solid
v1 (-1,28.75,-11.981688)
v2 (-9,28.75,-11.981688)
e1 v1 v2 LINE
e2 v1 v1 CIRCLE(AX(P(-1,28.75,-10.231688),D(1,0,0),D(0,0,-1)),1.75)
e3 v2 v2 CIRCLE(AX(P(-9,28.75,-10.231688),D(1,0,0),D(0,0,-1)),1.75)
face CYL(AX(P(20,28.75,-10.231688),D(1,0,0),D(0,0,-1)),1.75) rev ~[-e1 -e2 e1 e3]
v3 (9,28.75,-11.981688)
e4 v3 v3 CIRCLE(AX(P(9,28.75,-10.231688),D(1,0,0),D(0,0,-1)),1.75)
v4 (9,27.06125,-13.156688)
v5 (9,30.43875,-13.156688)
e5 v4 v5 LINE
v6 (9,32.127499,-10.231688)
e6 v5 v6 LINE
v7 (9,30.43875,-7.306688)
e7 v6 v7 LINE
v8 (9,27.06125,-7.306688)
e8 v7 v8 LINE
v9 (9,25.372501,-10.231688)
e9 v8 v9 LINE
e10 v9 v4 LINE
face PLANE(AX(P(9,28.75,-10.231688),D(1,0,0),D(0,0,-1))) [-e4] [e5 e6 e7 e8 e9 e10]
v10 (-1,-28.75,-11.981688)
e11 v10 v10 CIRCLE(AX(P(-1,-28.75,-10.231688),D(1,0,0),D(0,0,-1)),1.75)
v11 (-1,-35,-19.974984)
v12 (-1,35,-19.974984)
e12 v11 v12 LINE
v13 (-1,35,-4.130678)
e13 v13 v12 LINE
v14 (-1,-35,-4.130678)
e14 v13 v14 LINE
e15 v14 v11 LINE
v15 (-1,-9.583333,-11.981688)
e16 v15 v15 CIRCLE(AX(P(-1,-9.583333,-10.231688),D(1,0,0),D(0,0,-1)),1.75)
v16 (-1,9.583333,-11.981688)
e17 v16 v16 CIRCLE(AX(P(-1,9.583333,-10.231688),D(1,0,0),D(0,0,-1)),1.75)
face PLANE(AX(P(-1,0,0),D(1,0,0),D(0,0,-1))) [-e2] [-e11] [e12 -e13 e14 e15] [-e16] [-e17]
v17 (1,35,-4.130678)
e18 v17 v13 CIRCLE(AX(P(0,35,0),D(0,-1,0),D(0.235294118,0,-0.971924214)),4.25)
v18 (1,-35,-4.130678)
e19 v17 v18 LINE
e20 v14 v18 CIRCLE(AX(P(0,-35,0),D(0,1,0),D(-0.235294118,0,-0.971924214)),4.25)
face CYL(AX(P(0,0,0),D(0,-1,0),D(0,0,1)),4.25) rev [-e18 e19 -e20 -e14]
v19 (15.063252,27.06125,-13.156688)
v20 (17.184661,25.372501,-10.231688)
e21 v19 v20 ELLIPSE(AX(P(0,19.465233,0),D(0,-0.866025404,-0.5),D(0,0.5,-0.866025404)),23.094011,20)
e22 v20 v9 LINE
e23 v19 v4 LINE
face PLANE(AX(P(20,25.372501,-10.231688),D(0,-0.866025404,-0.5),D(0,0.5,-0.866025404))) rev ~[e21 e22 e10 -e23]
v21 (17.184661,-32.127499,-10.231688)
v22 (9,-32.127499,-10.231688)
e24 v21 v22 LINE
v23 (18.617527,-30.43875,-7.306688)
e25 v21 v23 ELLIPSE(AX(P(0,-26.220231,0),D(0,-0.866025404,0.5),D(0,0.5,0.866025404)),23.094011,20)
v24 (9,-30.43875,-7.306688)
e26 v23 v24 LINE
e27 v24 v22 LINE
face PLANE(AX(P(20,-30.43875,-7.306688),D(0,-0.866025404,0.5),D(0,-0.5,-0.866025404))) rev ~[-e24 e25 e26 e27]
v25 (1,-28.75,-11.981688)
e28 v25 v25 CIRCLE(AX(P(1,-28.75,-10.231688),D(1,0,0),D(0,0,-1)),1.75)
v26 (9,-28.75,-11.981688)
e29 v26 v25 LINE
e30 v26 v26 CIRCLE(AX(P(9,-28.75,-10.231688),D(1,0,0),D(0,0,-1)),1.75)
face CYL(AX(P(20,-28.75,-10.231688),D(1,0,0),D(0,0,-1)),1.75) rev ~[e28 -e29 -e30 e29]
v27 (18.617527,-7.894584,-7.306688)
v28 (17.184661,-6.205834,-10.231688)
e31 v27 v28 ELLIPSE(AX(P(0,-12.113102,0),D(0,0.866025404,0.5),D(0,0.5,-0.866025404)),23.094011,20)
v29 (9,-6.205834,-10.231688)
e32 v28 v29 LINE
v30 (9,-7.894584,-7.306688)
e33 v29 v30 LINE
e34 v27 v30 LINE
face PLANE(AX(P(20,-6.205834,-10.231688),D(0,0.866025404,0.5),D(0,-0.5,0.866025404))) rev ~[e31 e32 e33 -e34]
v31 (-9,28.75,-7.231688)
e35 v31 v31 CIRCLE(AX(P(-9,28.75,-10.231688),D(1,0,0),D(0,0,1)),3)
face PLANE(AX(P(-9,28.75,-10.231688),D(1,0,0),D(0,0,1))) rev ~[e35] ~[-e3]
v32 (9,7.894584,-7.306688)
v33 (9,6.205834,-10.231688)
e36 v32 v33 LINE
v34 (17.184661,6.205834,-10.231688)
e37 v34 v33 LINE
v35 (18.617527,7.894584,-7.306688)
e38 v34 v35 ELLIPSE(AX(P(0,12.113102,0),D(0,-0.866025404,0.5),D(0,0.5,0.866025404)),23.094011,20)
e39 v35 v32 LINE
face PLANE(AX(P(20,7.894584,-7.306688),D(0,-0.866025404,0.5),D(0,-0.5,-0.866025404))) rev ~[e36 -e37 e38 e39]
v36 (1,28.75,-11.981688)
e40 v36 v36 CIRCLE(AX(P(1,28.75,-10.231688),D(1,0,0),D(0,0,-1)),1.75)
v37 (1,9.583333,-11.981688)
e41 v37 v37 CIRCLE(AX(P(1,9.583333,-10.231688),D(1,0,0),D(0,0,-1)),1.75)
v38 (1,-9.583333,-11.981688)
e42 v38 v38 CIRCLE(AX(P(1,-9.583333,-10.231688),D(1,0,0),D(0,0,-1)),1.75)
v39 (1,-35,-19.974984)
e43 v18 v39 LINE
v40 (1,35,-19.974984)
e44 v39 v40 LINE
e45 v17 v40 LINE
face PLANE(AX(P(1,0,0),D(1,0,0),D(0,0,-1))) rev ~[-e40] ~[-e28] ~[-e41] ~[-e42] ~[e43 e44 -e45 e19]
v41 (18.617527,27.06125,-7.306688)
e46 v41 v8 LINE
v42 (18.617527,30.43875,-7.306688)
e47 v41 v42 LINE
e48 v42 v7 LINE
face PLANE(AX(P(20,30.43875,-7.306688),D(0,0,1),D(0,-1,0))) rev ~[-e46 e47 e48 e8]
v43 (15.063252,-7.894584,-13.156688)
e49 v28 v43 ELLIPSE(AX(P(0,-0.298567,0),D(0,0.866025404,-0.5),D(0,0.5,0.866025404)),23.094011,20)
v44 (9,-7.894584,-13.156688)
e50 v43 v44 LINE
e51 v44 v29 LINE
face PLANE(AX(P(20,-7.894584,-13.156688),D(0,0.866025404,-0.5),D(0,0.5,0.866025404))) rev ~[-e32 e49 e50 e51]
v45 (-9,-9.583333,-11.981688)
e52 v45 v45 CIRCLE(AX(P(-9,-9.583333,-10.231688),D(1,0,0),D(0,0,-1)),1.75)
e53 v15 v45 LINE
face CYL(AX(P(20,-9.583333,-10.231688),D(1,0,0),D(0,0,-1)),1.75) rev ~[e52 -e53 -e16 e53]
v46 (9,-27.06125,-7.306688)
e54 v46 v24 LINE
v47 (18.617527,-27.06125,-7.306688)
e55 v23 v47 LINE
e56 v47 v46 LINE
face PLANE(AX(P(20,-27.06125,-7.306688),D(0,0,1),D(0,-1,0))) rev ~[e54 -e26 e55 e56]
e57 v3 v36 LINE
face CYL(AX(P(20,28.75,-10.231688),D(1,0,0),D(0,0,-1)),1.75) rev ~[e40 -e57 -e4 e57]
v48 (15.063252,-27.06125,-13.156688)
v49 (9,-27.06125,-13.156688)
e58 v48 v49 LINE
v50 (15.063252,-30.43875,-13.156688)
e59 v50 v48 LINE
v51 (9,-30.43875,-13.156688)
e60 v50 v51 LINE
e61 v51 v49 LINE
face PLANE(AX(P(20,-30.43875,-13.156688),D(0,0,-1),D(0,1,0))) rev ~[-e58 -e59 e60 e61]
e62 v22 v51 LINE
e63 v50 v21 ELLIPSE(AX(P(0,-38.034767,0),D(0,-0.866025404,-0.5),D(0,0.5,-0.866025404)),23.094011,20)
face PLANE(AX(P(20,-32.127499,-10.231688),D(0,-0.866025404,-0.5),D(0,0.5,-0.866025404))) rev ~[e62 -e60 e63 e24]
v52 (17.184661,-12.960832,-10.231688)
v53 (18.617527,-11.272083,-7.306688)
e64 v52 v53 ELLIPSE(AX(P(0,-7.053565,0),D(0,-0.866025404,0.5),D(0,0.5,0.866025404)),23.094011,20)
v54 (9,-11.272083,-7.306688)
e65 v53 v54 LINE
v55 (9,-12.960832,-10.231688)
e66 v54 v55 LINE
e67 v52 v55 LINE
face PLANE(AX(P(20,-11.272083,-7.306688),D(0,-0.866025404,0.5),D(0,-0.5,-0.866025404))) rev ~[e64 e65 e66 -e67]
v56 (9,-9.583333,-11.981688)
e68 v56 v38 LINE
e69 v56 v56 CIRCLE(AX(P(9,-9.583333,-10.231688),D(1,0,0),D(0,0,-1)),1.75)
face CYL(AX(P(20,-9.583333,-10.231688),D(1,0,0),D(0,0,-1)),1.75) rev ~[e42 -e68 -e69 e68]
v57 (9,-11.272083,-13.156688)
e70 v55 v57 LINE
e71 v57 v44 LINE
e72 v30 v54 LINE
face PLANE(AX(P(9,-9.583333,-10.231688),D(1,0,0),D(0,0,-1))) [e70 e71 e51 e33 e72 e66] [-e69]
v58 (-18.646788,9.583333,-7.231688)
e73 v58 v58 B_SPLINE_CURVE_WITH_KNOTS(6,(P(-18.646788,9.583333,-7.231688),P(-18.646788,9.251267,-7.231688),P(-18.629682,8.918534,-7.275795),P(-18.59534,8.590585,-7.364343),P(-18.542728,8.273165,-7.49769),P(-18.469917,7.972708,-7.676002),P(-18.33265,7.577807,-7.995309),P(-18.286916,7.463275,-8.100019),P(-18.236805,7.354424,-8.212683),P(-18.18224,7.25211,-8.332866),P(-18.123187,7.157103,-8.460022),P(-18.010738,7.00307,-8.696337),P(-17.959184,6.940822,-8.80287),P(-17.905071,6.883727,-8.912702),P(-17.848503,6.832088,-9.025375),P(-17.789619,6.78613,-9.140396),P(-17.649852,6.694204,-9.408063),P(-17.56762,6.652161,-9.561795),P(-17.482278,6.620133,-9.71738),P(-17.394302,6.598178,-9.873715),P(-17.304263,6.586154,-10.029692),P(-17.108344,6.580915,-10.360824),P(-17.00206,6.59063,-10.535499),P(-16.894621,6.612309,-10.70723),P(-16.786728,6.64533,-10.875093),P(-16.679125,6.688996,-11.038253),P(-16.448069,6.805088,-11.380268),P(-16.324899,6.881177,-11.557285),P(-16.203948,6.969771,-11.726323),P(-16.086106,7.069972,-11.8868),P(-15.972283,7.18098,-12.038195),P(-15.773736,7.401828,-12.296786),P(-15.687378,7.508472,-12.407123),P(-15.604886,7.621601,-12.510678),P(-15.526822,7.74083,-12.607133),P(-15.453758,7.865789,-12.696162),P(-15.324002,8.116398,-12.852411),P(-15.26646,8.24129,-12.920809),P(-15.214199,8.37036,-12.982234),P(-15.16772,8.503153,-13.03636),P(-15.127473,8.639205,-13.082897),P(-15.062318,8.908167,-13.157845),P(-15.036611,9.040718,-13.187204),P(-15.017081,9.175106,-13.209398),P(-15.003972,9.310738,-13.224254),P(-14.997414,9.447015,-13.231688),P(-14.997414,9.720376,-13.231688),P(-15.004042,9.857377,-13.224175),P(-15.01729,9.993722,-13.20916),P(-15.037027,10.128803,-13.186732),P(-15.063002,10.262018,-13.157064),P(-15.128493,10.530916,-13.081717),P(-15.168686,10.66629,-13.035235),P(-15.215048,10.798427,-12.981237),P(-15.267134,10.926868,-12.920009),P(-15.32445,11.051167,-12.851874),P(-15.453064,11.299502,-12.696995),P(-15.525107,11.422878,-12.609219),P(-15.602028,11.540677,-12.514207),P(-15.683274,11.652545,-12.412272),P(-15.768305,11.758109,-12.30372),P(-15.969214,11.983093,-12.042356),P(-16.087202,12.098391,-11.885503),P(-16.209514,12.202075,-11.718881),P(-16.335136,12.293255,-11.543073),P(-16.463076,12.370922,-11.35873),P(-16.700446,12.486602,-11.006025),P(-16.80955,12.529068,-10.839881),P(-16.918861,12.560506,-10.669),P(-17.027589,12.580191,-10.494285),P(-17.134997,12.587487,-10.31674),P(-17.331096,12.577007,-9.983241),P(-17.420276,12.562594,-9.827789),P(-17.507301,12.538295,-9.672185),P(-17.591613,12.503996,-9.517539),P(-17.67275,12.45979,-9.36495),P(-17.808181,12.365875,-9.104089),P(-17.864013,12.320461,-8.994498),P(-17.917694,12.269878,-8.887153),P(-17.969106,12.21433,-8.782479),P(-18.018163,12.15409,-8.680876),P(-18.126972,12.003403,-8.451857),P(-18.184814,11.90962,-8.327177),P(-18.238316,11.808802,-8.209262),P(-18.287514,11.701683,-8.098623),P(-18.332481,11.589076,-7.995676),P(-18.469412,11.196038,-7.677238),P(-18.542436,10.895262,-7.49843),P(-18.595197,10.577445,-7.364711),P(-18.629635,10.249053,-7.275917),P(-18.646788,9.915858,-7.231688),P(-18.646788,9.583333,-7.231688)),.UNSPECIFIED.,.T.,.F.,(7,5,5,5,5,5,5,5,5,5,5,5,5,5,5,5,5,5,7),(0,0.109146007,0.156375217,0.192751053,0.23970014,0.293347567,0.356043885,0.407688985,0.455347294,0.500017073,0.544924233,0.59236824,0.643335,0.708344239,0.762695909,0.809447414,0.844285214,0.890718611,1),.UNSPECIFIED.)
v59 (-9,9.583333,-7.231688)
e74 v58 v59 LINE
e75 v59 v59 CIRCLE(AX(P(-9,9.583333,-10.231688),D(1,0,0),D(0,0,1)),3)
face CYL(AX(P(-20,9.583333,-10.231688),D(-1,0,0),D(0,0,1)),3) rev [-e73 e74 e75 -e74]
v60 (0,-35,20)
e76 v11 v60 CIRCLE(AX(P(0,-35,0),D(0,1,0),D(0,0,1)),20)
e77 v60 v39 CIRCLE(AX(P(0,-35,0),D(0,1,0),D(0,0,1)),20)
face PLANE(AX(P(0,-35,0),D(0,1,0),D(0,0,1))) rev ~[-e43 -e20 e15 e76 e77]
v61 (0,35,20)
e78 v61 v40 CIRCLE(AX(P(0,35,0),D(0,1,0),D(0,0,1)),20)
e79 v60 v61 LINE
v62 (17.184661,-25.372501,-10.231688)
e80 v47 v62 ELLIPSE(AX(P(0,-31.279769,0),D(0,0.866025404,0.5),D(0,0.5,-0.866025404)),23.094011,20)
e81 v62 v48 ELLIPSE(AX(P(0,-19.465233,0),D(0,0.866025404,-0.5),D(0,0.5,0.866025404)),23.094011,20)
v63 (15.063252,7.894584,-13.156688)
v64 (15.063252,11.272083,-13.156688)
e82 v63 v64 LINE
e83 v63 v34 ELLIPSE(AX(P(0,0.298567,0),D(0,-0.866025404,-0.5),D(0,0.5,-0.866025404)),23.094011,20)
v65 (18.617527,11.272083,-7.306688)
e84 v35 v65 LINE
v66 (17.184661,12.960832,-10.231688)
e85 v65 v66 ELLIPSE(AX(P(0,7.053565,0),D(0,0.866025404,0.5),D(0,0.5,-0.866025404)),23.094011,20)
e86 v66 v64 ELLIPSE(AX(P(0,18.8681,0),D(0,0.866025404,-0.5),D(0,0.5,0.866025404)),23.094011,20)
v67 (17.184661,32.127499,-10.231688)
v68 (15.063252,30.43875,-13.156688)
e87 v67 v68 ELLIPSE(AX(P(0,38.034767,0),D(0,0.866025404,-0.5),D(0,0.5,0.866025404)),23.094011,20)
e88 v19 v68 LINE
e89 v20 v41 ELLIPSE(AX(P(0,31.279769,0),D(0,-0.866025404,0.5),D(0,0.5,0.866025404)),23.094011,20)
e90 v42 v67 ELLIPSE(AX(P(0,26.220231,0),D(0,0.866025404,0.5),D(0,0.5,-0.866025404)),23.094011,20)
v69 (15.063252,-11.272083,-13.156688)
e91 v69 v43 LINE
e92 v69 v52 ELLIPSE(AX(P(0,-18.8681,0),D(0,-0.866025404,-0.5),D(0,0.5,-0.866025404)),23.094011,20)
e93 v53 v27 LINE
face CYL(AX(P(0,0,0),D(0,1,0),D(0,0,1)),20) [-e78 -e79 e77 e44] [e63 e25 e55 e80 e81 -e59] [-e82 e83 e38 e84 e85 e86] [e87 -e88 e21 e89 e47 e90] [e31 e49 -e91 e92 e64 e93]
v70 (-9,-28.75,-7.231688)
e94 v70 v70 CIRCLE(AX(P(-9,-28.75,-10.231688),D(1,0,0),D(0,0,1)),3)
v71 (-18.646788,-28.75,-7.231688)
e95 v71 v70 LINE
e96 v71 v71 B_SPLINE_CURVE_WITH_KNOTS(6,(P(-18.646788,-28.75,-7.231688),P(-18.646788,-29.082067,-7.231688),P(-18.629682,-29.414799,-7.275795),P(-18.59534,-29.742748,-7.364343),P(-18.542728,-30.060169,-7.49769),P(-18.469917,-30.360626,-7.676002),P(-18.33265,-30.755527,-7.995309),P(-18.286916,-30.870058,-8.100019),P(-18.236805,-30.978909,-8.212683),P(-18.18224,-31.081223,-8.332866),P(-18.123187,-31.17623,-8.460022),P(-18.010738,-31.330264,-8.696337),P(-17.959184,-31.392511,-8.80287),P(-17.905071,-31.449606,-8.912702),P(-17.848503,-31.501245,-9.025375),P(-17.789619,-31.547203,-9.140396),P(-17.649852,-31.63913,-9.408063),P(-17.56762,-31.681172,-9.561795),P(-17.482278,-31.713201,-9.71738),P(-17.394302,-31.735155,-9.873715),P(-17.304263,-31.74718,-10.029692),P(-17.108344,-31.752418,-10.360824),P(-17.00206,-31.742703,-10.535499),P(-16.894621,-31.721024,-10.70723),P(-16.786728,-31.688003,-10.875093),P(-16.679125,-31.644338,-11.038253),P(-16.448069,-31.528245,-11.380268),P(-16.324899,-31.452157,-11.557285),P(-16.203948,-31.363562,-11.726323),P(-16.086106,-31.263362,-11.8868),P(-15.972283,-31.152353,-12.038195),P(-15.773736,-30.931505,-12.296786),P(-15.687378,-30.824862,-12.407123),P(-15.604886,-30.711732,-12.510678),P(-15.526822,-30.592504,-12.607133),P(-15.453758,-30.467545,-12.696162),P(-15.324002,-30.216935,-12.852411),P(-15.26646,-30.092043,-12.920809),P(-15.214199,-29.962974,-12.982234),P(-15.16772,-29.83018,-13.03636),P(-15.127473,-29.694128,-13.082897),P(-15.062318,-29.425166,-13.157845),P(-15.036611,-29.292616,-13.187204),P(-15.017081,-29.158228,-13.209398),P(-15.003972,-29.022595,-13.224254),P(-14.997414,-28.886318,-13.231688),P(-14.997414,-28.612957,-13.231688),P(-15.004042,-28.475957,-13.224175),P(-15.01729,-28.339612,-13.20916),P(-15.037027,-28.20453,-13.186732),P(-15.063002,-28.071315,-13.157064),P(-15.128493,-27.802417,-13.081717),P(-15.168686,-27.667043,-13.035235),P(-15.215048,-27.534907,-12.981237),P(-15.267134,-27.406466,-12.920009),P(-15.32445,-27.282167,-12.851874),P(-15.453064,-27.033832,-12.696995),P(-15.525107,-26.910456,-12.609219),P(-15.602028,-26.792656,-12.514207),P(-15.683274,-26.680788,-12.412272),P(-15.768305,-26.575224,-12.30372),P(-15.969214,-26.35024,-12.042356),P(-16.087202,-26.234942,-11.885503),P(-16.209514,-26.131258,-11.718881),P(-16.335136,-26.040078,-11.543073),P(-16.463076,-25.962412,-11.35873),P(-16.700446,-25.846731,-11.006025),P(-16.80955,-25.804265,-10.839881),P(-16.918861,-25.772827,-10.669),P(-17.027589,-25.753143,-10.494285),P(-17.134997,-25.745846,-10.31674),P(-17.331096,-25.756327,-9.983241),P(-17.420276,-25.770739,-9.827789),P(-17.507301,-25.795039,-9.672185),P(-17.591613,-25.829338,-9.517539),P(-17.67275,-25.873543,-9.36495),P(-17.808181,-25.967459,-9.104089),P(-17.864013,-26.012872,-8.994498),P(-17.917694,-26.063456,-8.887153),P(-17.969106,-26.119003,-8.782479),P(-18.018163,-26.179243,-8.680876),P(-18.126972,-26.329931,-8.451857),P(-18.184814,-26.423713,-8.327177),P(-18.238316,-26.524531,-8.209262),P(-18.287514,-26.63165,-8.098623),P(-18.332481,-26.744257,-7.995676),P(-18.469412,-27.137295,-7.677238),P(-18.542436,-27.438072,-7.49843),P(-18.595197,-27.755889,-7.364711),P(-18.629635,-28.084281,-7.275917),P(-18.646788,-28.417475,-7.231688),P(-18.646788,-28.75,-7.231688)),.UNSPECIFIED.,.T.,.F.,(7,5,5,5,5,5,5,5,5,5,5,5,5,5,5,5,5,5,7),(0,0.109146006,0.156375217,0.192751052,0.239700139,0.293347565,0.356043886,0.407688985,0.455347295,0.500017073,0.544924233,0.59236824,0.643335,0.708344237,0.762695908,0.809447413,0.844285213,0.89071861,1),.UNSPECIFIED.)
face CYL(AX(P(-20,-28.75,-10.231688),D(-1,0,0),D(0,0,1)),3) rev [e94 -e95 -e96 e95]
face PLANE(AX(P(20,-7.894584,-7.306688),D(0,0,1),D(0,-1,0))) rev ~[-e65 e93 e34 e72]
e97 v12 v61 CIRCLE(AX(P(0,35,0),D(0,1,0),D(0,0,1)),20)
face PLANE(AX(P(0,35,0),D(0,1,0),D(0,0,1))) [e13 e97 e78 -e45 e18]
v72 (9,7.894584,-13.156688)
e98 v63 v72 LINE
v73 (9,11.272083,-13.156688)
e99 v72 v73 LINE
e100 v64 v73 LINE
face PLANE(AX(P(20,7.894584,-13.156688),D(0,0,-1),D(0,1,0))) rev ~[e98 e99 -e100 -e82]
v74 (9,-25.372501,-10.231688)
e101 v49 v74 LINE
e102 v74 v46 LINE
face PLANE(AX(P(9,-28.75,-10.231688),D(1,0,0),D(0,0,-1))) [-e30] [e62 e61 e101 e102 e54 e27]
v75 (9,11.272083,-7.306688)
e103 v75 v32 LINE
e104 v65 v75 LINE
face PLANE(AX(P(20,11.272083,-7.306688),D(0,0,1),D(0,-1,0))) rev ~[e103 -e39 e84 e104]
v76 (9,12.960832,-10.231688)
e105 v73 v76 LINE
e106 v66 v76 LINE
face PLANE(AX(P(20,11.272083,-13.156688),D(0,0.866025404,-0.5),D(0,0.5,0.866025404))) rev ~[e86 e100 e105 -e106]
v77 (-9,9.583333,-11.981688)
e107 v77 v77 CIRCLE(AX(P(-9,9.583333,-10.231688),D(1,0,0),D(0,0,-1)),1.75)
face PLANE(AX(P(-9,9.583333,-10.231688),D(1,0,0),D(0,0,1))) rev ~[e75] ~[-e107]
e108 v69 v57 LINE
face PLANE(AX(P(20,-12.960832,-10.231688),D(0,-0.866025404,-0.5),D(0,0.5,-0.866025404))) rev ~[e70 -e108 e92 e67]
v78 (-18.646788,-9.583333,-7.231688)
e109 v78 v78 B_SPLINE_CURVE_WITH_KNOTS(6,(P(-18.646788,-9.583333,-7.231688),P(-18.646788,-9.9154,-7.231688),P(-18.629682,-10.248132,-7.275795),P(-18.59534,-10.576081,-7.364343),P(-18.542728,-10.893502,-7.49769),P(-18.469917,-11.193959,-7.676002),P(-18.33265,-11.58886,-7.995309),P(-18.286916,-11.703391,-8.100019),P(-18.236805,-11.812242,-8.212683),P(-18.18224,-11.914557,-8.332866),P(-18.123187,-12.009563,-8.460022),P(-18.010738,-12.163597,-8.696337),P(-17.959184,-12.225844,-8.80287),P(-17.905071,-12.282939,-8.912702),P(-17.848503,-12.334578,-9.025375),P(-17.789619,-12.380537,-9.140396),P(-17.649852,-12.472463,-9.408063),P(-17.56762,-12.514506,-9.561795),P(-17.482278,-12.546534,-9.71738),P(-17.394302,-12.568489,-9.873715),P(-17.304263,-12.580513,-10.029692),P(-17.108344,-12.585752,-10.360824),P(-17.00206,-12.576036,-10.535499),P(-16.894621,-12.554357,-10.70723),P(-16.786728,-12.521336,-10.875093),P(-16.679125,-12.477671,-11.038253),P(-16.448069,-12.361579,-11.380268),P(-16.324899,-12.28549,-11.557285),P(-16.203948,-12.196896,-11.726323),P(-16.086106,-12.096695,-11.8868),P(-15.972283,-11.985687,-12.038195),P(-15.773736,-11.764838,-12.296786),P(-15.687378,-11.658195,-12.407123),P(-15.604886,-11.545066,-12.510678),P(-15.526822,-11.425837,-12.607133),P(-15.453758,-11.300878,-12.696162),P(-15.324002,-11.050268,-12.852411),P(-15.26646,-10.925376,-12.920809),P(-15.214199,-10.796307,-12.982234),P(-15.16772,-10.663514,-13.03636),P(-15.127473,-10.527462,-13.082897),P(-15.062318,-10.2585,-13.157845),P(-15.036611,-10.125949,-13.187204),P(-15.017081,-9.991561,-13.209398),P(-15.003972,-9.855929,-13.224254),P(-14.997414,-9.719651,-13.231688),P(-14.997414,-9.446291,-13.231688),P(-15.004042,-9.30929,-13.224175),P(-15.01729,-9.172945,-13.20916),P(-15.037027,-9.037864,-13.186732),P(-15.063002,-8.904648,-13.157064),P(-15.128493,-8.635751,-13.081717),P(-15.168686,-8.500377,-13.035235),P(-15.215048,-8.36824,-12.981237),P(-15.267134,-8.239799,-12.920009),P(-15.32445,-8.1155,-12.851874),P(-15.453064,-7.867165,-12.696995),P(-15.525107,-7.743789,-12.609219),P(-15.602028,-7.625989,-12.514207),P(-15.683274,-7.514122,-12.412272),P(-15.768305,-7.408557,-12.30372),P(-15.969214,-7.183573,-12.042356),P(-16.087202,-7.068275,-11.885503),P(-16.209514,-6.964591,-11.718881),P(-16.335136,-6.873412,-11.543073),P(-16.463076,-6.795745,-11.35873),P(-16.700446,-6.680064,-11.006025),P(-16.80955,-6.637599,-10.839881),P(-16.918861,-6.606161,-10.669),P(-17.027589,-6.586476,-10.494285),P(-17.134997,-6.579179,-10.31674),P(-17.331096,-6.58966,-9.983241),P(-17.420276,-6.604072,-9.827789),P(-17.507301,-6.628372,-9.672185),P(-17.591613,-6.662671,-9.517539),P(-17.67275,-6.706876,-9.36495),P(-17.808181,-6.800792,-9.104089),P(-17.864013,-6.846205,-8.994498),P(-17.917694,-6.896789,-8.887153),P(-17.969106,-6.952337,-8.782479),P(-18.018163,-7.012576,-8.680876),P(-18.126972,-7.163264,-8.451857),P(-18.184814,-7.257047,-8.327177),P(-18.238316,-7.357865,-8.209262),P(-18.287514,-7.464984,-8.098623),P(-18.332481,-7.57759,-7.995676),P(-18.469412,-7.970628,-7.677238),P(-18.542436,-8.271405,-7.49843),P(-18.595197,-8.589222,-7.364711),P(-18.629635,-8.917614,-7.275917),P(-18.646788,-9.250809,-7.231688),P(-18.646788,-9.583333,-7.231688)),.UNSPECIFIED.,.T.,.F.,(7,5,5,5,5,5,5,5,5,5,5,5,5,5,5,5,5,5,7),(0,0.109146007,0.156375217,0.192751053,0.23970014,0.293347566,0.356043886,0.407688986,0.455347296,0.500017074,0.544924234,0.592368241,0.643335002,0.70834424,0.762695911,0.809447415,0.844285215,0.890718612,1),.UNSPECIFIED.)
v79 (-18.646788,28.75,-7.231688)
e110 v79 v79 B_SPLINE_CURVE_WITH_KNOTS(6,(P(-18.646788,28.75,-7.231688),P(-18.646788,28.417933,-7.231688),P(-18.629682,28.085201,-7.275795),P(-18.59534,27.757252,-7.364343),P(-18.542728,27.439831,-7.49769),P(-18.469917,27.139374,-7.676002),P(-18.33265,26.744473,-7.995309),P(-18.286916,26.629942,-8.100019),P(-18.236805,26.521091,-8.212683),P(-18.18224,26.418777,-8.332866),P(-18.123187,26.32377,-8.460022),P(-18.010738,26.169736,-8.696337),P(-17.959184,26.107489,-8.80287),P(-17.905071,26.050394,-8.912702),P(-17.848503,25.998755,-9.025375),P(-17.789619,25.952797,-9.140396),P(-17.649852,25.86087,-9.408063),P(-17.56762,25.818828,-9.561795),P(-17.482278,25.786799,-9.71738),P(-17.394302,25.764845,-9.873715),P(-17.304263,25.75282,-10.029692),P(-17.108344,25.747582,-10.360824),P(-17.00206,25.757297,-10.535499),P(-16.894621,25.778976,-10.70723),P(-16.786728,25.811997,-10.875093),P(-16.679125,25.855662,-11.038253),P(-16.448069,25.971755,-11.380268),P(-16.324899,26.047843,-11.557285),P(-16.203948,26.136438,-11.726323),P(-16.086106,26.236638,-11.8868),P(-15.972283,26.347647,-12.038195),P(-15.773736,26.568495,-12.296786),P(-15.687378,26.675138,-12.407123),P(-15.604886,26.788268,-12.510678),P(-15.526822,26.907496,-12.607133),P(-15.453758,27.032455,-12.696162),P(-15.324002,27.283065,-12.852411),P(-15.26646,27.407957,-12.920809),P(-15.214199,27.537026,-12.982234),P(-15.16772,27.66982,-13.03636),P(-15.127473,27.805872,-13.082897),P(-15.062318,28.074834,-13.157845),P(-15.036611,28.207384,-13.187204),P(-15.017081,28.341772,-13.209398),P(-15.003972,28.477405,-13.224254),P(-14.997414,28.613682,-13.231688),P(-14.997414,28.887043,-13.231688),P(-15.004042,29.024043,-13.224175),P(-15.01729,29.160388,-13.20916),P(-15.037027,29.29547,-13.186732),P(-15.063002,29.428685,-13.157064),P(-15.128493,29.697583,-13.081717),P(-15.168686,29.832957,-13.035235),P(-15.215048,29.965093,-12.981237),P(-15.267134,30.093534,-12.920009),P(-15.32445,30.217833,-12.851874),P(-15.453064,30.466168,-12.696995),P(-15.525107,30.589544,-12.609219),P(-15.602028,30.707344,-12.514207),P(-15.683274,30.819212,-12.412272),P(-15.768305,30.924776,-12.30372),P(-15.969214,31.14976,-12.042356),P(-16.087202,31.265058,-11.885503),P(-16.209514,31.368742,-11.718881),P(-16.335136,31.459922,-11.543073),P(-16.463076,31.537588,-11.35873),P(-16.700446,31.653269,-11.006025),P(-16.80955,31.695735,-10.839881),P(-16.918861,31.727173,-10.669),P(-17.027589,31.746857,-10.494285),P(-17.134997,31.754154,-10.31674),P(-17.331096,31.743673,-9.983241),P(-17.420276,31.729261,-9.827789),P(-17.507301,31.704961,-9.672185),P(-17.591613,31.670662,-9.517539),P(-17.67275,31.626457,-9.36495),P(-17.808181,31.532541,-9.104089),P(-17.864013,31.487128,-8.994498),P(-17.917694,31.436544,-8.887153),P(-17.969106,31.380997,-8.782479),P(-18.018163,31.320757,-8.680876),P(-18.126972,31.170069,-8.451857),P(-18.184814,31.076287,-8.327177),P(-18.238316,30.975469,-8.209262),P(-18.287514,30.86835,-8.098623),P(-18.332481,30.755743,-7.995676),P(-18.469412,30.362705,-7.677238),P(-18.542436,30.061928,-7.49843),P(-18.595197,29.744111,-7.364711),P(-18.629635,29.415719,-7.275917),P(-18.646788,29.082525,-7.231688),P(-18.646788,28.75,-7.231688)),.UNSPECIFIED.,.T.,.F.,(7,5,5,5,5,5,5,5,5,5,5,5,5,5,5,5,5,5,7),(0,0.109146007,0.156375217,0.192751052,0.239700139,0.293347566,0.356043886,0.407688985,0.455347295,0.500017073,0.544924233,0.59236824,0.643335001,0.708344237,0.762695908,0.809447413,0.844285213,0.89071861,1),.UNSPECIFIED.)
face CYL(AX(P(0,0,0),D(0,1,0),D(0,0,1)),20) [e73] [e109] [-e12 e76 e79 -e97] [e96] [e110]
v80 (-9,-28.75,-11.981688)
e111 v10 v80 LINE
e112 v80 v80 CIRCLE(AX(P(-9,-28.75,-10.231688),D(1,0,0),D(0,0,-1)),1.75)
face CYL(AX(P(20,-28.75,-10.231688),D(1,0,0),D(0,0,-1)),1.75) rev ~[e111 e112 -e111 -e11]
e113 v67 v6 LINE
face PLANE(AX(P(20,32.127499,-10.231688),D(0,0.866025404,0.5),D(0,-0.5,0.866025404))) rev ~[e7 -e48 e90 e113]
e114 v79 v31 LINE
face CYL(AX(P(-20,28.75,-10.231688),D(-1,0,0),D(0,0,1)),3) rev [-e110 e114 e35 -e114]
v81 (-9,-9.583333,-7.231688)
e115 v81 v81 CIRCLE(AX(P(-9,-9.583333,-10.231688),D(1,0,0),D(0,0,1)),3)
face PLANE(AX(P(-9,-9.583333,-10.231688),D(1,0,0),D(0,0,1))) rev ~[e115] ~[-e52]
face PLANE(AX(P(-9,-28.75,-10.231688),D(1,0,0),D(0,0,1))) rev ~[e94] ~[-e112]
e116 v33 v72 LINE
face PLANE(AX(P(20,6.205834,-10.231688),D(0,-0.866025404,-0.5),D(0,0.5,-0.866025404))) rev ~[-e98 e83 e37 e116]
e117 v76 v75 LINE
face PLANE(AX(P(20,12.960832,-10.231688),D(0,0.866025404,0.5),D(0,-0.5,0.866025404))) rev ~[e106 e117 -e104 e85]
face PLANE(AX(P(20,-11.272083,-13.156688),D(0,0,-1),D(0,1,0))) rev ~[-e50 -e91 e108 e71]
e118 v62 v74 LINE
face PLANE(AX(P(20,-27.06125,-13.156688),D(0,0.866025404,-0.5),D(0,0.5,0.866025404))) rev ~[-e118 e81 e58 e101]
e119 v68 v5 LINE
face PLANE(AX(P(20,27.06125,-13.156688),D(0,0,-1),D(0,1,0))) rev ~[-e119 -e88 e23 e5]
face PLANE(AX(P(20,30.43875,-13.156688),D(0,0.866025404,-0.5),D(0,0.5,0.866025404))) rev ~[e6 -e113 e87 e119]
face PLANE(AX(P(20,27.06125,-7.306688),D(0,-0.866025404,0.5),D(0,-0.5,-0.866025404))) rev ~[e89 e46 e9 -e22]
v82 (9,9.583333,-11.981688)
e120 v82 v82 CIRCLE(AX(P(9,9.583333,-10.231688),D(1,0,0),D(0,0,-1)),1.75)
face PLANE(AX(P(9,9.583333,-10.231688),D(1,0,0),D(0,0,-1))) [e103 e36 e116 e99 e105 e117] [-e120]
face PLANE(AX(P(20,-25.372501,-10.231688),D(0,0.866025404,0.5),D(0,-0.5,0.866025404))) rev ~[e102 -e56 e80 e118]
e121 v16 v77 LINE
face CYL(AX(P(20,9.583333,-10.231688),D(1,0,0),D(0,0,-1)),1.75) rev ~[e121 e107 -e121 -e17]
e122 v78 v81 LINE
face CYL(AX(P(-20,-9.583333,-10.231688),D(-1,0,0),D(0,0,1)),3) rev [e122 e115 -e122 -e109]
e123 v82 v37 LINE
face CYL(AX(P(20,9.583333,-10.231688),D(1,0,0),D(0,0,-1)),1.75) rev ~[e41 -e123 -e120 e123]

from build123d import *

# Parameters (mm, degrees)
SKETCH1_R           = 20
SKETCH1_R_2         = 4.25
BOSS_EXTRUDE1_DEPTH = 35
SKETCH2_W           = 2
SKETCH2_H           = 25
CUT_EXTRUDE1_DEPTH  = 35
SKETCH4_R           = 1.75
CUT_EXTRUDE2_DEPTH  = 30
CUT_EXTRUDE3_DEPTH  = 11
SKETCH6_R           = 3
CUT_EXTRUDE4_DEPTH  = 11


with BuildPart() as part:
    # Sketch1 → Boss-Extrude1 (new, symmetric)
    with BuildSketch(Plane(origin=(0, 0, 0), x_dir=(1, 0, 0), z_dir=(0, 1, 0))):
        with Locations(Location((0, 0, 0), (0, 0, 270))):
            Circle(SKETCH1_R)
        with Locations(Location((0, 0, 0), (0, 0, 270))):
            Circle(SKETCH1_R_2, mode=Mode.SUBTRACT)
    extrude(amount=BOSS_EXTRUDE1_DEPTH, both=True)

    # Sketch2 → Cut-Extrude1 (cut, symmetric)
    with BuildSketch(Plane(origin=(0, 0, 0), x_dir=(1, 0, 0), z_dir=(0, 1, 0))):
        with Locations((0, 12.5)):
            Rectangle(SKETCH2_W, SKETCH2_H)
    extrude(amount=CUT_EXTRUDE1_DEPTH, both=True, mode=Mode.SUBTRACT)

    # Sketch4 → Cut-Extrude2 (cut)
    with BuildSketch(Plane(origin=(20, 0, 0), x_dir=(0, 0, -1), z_dir=(1, 0, 0))):
        with Locations((10.231687805, 28.75)):
            Circle(SKETCH4_R)
        with Locations((10.231687805, 9.583333333)):
            Circle(SKETCH4_R)
        with Locations((10.231687805, -9.583333333)):
            Circle(SKETCH4_R)
        with Locations((10.231687805, -28.75)):
            Circle(SKETCH4_R)
    extrude(amount=-CUT_EXTRUDE2_DEPTH, mode=Mode.SUBTRACT)

    # Sketch5 → Cut-Extrude3 (cut)
    with BuildSketch(Plane(origin=(20, 0, 0), x_dir=(0, 0, -1), z_dir=(1, 0, 0))):
        Polygon((10.231687805, 32.127499075), (7.306687805, 30.438749537), (7.306687805, 27.061250463), (10.231687805, 25.372500925), (13.156687805, 27.061250463), (13.156687805, 30.438749537), align=None)
        Polygon((10.231687805, 6.205834259), (13.156687805, 7.894583796), (13.156687805, 11.272082871), (10.231687805, 12.960832408), (7.306687805, 11.272082871), (7.306687805, 7.894583796), align=None)
        Polygon((10.231687805, -12.960832408), (13.156687805, -11.272082871), (13.156687805, -7.894583796), (10.231687805, -6.205834259), (7.306687805, -7.894583796), (7.306687805, -11.272082871), align=None)
        Polygon((10.231687805, -32.127499075), (13.156687805, -30.438749537), (13.156687805, -27.061250463), (10.231687805, -25.372500925), (7.306687805, -27.061250463), (7.306687805, -30.438749537), align=None)
    extrude(amount=-CUT_EXTRUDE3_DEPTH, mode=Mode.SUBTRACT)

    # Sketch6 → Cut-Extrude4 (cut)
    with BuildSketch(Plane(origin=(-20, 0, 0), x_dir=(0, 0, -1), z_dir=(1, 0, 0))):
        with Locations(Location((10.231687805, 28.75, 0), (0, 0, 180))):
            Circle(SKETCH6_R)
        with Locations(Location((10.231687805, 9.583333333, 0), (0, 0, 180))):
            Circle(SKETCH6_R)
        with Locations(Location((10.231687805, -9.583333333, 0), (0, 0, 180))):
            Circle(SKETCH6_R)
        with Locations(Location((10.231687805, -28.75, 0), (0, 0, 180))):
            Circle(SKETCH6_R)
    extrude(amount=CUT_EXTRUDE4_DEPTH, mode=Mode.SUBTRACT)


solid = part.part
